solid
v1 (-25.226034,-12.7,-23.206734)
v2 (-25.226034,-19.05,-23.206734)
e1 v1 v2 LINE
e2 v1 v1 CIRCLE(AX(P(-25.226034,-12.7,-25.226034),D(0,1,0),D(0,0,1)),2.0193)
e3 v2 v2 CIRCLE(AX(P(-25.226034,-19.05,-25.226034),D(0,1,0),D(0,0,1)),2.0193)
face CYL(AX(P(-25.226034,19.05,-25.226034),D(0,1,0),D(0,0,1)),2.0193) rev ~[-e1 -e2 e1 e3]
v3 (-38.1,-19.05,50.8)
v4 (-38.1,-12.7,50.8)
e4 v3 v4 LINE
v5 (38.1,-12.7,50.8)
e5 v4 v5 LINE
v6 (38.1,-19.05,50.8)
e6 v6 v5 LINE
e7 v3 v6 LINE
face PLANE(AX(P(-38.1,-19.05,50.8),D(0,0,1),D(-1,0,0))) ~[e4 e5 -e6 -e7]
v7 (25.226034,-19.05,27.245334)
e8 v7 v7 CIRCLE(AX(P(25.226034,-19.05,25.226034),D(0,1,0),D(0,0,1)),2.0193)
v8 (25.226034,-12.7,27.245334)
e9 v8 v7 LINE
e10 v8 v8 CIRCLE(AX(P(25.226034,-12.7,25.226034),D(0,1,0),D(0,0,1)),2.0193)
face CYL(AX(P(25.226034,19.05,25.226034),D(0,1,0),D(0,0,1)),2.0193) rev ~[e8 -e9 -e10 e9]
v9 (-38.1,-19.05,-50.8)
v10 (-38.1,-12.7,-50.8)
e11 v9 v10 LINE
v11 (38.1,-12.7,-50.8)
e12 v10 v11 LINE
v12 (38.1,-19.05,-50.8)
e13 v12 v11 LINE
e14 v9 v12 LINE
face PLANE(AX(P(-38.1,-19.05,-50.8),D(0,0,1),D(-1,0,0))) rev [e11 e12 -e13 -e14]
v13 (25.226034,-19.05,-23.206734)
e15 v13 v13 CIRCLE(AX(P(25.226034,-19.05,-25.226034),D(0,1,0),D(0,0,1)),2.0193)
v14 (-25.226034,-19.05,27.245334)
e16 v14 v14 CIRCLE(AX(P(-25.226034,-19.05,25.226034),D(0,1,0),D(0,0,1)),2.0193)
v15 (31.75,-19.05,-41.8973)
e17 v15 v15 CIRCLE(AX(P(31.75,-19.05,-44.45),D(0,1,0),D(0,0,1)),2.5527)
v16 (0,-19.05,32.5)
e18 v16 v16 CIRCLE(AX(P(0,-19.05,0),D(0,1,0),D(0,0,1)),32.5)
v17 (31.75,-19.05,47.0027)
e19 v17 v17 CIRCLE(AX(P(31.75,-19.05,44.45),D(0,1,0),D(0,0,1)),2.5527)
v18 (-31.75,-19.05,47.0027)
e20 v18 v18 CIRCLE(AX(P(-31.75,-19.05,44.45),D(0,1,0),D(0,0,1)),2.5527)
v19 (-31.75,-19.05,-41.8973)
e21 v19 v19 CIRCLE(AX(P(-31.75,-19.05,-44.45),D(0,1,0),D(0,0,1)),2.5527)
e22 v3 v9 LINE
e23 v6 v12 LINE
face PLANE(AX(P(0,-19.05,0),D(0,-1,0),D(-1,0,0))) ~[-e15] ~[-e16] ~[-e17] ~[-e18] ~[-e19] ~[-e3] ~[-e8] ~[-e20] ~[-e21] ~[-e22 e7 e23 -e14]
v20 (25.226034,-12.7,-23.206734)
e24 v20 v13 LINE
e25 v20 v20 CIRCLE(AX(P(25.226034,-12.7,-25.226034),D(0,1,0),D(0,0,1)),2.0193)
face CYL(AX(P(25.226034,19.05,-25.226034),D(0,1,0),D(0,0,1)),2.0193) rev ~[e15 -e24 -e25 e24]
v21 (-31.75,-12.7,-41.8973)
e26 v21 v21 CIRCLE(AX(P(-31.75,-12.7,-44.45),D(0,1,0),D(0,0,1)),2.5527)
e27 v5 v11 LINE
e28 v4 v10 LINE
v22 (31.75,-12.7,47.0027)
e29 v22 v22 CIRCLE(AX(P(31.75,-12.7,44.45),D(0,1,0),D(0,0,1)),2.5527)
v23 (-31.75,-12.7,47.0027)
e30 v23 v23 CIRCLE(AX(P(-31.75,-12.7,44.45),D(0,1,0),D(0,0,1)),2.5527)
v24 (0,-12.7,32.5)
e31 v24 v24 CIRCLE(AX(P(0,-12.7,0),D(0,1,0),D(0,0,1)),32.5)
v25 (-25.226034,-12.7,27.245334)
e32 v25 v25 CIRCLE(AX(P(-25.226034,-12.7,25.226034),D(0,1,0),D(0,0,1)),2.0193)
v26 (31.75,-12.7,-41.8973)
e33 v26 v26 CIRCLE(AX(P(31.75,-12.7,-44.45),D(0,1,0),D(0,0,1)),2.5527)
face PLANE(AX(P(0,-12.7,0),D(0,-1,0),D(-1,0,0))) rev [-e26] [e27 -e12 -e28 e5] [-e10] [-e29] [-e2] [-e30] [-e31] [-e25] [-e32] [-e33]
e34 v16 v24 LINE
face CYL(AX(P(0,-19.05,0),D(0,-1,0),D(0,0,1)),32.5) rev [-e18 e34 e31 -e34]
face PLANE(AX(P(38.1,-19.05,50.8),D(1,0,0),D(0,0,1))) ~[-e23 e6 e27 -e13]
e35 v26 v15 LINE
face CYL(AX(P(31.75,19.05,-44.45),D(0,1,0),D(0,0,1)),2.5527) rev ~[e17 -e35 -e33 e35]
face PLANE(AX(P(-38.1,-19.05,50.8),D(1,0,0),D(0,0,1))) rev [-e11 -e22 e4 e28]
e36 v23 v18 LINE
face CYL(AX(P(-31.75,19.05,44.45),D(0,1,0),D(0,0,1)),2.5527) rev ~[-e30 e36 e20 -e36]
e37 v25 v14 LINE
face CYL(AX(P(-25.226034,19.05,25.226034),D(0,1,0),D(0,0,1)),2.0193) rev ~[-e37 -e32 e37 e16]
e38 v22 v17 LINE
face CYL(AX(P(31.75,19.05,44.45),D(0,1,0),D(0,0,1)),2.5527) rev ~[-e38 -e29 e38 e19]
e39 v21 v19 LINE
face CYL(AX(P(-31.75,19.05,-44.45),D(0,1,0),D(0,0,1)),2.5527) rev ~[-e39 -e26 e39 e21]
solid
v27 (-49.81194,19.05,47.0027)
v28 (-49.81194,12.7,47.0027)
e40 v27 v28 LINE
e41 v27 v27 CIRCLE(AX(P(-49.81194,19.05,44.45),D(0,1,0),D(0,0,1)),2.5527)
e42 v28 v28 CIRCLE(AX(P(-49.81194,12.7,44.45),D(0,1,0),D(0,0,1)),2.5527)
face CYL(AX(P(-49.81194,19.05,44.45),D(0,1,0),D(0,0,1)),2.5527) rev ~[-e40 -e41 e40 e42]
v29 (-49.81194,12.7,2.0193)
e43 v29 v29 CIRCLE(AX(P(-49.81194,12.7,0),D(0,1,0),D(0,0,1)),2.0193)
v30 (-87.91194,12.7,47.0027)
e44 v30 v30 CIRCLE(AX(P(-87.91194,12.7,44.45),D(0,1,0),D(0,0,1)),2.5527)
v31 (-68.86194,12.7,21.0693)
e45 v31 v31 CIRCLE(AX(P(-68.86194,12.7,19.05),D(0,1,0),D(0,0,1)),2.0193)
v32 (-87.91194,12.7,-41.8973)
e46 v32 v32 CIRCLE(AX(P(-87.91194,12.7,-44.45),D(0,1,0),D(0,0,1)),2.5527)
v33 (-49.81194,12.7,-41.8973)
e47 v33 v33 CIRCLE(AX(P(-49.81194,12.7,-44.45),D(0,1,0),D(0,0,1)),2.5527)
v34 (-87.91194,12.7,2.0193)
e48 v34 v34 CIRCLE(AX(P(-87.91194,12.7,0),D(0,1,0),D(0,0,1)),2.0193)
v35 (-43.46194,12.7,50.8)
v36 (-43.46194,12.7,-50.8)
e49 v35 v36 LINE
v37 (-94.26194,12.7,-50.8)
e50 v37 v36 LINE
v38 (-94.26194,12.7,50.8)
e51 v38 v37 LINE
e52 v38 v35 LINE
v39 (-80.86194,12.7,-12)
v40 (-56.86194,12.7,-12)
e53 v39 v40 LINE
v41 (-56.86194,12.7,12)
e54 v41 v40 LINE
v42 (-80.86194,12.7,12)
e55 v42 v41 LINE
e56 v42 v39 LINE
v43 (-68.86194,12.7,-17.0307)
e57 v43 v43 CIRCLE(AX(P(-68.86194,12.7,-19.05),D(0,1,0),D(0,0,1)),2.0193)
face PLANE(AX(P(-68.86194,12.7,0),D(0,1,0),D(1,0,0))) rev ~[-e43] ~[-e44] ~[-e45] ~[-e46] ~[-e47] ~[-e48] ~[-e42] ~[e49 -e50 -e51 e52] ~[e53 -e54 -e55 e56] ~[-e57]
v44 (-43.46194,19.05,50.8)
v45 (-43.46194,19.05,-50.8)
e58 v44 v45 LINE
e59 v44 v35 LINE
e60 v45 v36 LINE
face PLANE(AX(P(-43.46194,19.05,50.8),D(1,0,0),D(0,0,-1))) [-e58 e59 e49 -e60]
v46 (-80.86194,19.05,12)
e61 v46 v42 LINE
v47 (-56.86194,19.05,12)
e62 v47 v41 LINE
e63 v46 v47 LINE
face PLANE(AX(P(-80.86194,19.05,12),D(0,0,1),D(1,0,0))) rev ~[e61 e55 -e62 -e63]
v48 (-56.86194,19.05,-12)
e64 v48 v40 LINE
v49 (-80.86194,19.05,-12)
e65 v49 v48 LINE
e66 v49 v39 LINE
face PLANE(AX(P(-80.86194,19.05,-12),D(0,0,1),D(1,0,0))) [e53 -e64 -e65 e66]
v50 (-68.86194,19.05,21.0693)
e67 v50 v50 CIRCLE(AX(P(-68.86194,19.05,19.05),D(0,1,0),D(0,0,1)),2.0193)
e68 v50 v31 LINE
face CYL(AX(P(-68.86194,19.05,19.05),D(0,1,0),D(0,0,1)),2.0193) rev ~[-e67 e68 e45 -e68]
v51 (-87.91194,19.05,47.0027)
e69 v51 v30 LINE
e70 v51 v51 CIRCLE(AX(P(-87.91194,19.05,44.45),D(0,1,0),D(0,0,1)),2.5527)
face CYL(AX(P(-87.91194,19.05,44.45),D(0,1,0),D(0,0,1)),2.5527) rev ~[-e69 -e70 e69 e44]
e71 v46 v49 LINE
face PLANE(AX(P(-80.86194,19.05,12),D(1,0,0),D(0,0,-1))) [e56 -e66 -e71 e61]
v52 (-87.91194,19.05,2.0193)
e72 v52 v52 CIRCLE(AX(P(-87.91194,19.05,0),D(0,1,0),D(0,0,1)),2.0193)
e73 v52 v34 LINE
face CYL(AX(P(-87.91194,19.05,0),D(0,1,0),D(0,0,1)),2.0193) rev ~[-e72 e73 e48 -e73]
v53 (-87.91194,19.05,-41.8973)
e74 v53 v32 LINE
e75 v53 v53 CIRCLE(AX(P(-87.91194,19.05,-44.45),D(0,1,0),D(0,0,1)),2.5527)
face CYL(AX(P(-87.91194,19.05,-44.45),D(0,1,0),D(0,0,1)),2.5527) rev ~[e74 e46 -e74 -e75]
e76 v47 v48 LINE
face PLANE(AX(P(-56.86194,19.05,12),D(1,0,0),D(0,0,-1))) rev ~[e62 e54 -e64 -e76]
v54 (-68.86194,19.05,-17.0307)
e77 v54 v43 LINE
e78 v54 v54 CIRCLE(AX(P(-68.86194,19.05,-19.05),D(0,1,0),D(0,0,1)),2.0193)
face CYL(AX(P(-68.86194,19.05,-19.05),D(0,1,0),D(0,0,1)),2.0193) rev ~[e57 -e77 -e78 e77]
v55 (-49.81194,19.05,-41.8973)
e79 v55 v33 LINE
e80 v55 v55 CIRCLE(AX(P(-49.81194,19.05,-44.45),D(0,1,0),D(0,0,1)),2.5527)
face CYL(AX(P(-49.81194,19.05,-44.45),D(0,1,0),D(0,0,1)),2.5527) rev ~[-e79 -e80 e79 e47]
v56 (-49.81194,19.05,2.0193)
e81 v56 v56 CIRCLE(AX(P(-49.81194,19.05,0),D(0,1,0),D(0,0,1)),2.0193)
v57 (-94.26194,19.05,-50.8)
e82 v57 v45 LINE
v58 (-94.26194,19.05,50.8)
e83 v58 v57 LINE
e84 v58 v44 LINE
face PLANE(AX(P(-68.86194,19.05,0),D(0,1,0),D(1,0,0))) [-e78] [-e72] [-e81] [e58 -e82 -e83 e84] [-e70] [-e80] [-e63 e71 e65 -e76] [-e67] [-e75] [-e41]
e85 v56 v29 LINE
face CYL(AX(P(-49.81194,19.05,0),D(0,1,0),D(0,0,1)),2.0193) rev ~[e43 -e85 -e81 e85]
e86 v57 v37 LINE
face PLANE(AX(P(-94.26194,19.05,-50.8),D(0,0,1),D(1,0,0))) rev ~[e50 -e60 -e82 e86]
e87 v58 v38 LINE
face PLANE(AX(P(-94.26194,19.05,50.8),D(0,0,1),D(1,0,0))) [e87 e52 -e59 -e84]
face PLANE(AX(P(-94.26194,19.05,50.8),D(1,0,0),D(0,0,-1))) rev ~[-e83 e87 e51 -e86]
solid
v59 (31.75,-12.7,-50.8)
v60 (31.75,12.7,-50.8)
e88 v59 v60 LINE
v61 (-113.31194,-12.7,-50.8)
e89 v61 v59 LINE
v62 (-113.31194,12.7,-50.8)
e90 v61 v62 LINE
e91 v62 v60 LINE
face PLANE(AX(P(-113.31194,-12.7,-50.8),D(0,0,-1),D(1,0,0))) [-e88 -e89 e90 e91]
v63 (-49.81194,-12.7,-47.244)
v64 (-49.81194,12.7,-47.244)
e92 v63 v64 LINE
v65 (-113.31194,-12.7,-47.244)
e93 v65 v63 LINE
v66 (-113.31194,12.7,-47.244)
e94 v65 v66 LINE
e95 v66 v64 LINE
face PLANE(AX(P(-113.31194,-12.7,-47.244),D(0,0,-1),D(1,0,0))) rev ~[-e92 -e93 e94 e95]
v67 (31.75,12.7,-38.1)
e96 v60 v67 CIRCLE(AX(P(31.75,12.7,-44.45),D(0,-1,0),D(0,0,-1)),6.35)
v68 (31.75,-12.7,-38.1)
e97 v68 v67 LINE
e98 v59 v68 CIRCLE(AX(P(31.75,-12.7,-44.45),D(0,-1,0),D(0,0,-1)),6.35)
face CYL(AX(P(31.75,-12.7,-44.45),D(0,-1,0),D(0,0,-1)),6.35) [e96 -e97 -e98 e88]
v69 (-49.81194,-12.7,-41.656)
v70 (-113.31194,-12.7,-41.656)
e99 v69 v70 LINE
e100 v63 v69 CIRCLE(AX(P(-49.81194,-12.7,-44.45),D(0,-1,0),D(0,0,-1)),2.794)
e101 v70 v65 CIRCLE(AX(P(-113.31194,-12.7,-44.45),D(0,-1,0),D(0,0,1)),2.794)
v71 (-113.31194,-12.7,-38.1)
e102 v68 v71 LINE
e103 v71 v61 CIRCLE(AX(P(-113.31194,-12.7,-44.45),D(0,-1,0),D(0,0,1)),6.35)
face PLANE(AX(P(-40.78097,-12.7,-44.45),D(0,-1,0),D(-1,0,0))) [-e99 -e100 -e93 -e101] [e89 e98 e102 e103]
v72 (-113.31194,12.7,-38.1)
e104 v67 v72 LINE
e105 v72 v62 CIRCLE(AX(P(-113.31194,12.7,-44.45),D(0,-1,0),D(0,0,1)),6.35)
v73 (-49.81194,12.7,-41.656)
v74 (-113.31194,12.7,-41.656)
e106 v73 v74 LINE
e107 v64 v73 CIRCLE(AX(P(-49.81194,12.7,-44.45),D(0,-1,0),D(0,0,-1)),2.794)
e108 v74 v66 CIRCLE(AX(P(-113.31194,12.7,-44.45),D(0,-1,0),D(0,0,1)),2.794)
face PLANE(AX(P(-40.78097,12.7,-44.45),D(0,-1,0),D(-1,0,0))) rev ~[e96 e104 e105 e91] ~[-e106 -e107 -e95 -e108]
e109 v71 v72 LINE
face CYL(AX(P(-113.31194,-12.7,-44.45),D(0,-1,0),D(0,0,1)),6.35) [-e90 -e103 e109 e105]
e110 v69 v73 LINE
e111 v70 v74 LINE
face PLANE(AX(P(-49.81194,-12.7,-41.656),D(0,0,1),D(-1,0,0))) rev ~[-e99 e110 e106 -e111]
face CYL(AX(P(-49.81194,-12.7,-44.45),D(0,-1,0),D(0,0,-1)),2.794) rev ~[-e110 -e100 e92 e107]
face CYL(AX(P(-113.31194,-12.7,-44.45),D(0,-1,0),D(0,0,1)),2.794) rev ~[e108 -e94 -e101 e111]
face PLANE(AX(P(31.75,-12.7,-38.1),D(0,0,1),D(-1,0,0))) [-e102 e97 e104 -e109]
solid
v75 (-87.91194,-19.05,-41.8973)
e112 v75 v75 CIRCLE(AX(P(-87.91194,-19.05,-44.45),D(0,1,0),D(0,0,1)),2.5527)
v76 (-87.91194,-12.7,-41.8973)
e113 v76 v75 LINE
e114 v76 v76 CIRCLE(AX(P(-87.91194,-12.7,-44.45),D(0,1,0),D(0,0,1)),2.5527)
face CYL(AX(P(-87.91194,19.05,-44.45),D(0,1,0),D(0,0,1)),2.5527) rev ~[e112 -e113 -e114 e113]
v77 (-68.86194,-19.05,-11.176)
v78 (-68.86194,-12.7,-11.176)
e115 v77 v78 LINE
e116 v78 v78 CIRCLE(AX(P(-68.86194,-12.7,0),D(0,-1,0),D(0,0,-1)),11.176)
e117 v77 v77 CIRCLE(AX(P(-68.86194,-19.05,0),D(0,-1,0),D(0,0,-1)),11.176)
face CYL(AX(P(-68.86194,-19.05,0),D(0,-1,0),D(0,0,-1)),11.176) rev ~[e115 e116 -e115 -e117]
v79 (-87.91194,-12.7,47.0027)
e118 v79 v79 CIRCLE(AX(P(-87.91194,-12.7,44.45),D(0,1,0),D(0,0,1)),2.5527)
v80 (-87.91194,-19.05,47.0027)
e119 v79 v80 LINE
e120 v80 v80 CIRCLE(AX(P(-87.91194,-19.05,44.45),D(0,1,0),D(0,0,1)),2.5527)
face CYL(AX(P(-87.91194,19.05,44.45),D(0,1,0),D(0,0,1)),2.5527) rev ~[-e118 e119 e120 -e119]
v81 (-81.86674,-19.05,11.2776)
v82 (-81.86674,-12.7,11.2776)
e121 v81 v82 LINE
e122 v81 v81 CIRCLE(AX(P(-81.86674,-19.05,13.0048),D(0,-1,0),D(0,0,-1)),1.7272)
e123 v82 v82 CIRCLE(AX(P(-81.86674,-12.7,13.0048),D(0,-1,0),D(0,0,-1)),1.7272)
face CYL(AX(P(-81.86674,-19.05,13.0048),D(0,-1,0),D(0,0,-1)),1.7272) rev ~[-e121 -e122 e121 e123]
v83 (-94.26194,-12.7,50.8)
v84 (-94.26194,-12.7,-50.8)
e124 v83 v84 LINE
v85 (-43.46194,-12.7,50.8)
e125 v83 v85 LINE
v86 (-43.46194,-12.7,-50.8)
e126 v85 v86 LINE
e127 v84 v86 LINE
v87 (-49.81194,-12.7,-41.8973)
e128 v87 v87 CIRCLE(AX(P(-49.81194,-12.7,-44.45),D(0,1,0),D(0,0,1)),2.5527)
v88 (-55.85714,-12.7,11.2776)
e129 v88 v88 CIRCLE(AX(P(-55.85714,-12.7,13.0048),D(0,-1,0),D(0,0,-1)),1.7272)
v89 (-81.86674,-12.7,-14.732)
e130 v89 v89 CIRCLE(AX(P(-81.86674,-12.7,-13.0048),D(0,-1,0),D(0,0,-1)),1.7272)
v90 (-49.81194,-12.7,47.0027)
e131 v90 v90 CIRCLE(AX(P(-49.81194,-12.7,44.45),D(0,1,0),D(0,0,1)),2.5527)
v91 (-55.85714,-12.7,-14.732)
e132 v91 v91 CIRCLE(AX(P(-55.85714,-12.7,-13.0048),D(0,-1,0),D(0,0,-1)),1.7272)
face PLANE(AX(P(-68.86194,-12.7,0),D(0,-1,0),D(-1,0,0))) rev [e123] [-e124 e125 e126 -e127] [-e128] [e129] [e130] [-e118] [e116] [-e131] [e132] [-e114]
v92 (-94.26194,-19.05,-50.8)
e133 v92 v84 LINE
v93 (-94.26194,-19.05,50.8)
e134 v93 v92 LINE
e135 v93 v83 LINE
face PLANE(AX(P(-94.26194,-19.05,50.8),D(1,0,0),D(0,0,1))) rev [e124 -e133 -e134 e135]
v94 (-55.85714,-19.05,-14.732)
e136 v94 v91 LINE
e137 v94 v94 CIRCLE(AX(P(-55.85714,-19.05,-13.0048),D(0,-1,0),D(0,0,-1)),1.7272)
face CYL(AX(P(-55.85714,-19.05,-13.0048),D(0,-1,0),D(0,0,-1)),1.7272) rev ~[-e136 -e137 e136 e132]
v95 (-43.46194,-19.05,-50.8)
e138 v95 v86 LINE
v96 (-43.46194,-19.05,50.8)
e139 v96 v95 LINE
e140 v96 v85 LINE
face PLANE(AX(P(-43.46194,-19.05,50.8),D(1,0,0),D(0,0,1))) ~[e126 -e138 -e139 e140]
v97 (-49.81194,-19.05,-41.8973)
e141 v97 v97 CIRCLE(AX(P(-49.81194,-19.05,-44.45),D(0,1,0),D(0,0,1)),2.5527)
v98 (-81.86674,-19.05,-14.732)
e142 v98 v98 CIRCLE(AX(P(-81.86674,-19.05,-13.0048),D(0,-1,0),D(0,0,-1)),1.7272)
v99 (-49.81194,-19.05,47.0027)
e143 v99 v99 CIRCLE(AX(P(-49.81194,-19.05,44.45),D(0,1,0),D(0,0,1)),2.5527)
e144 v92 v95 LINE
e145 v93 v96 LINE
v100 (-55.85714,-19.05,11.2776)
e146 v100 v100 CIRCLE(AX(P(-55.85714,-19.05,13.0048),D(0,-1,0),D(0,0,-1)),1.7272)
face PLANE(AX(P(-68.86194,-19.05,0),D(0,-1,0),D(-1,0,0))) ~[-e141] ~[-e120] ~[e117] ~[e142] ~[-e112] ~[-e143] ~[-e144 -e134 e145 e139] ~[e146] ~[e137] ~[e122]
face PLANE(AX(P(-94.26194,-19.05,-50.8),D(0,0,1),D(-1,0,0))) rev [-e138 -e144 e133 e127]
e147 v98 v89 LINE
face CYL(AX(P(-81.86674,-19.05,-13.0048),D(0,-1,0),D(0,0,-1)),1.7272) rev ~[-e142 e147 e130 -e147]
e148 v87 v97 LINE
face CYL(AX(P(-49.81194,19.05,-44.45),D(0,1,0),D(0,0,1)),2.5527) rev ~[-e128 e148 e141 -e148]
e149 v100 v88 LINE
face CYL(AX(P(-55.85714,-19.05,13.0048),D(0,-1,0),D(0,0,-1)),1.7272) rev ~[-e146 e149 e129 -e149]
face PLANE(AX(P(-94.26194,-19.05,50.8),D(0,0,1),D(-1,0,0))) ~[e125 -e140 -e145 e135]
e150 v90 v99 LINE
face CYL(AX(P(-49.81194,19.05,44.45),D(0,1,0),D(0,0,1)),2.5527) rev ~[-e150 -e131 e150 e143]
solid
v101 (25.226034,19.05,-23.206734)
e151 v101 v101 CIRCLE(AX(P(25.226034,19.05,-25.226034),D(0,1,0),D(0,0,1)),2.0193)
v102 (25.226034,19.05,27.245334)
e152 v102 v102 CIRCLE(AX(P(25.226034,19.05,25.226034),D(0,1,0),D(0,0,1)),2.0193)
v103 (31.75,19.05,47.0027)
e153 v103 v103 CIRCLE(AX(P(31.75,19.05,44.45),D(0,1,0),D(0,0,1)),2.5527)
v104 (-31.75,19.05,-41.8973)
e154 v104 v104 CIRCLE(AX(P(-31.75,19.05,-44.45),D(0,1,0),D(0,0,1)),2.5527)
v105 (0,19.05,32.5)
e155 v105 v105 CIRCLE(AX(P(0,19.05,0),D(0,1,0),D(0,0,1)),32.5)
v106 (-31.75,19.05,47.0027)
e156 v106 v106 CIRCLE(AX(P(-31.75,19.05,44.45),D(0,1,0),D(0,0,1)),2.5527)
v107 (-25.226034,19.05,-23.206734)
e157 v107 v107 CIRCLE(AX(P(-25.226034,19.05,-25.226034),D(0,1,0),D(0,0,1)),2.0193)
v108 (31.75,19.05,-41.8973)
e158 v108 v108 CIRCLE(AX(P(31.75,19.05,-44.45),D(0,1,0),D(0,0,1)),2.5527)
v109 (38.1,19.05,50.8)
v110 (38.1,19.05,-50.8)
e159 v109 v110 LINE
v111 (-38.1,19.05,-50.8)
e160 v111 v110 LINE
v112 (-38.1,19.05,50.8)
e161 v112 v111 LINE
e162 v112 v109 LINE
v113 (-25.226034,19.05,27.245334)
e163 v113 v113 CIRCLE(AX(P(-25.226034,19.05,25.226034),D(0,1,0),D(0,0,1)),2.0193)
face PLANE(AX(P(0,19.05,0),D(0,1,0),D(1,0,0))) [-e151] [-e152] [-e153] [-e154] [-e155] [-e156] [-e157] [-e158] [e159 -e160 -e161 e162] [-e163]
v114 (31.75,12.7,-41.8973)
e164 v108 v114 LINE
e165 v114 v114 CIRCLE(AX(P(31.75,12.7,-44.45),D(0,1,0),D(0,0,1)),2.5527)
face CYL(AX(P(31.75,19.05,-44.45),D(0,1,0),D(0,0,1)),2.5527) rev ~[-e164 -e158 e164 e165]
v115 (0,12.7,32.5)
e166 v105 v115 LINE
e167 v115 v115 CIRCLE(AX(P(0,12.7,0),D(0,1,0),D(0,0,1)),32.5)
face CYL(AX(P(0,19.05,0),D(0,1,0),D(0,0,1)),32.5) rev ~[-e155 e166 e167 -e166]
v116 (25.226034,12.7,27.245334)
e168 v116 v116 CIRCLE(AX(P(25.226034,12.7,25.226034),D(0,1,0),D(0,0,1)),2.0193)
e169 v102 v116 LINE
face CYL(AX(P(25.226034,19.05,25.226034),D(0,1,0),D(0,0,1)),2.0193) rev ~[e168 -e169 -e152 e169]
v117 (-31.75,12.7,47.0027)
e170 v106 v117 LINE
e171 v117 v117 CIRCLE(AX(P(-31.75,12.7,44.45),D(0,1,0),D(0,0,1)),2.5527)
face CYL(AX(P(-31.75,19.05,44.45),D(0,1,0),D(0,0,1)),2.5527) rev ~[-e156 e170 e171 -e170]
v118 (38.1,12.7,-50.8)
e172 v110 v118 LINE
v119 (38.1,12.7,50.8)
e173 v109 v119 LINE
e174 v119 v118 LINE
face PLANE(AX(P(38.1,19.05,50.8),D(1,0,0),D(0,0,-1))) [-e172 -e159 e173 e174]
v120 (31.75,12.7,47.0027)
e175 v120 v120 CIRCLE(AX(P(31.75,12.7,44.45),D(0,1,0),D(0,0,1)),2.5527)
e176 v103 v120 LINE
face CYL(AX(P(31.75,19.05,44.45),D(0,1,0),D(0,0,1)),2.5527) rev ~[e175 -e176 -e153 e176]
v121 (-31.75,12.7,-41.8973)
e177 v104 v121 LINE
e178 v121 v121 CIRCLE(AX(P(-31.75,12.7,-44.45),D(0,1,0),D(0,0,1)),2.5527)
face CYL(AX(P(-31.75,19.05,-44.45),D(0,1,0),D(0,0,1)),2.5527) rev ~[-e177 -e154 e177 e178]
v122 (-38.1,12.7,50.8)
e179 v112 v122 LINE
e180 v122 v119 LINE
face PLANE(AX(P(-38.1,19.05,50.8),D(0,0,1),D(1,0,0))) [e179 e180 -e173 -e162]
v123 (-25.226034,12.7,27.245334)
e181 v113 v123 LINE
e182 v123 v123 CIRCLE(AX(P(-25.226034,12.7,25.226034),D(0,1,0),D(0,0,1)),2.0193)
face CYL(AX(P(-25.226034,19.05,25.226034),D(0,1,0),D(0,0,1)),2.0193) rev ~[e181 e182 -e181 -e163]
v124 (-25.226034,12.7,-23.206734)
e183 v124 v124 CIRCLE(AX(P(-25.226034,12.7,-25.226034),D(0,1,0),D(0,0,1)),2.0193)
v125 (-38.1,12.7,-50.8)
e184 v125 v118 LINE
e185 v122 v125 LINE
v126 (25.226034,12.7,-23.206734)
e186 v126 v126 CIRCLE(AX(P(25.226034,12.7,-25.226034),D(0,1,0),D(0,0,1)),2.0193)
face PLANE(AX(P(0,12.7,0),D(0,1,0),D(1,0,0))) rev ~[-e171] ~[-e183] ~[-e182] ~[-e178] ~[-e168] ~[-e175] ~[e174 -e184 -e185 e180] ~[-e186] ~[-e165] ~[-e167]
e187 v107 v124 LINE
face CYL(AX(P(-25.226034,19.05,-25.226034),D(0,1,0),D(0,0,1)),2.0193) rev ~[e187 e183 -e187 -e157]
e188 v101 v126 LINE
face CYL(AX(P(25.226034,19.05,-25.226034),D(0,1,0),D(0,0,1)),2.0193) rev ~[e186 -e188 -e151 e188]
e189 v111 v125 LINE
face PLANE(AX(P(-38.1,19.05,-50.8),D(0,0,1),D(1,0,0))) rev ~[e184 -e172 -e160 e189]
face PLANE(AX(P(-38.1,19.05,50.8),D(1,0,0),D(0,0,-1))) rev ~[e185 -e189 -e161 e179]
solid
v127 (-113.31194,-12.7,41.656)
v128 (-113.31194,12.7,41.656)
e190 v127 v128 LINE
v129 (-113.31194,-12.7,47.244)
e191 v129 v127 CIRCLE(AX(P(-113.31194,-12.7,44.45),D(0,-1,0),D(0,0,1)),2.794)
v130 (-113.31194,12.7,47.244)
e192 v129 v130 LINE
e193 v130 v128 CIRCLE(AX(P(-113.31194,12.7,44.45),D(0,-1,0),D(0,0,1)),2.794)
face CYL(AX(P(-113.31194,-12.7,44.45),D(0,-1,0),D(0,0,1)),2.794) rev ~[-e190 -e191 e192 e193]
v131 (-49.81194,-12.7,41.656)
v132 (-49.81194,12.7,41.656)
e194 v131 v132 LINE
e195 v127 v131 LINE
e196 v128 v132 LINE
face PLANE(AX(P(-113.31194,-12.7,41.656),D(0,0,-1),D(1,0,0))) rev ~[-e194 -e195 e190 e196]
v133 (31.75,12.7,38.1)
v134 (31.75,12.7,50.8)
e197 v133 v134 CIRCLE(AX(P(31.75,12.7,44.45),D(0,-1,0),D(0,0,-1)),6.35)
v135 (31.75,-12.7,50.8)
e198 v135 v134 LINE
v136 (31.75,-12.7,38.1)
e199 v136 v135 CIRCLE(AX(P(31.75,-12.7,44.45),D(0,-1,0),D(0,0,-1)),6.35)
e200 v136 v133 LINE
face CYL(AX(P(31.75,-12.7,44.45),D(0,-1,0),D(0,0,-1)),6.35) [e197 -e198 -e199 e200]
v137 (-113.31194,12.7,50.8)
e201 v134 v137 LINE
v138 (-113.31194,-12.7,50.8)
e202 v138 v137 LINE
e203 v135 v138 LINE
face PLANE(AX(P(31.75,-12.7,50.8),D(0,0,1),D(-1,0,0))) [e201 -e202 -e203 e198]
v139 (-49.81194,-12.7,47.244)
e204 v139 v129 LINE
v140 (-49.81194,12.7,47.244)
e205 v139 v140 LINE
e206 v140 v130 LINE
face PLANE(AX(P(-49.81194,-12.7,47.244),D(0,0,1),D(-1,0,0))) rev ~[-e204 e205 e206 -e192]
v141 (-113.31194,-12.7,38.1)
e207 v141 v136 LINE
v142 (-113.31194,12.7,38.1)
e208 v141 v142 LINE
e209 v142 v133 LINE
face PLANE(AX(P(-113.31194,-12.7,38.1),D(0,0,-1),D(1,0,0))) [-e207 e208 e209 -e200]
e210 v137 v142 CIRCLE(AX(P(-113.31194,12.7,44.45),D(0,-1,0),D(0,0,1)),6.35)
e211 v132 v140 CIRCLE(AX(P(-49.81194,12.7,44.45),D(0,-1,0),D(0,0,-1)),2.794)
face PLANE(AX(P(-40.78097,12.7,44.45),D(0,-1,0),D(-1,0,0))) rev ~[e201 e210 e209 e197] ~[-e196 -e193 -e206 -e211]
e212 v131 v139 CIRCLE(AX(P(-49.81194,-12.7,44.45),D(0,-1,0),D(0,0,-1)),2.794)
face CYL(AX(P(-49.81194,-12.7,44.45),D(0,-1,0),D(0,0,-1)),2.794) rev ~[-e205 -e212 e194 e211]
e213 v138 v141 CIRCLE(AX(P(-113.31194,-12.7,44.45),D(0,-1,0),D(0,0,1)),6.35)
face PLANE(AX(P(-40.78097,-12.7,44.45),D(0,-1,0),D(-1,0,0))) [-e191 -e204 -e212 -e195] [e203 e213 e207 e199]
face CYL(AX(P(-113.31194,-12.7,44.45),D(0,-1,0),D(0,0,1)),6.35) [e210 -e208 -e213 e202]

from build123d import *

# Parameters (mm, degrees)
BOSS_EXTRUDE1_START   = 19.05
SKETCH2_W             = 76.2
SKETCH2_H             = 101.6
SKETCH2_R             = 32.5
BOSS_EXTRUDE1_DEPTH   = 6.35
SKETCH2_W_2           = 50.8
BOSS_EXTRUDE1_2_DEPTH = 6.35
SKETCH3_W             = 24
SKETCH3_H             = 24
CUT_EXTRUDE1_DEPTH    = 6.35
SKETCH4_R             = 11.176
CUT_EXTRUDE2_DEPTH    = 6.35
SKETCH5_R             = 1.7272
CUT_EXTRUDE3_DEPTH    = 6.35
SKETCH6_R             = 2.5527
SKETCH6_R_2           = 2.0193
CUT_EXTRUDE4_DEPTH    = 114.655458877
SKETCH7_R             = 2.0193
CUT_EXTRUDE5_DEPTH    = 6.35
BOSS_EXTRUDE2_DEPTH   = 25.4
BOSS_EXTRUDE2_2_DEPTH = 25.4


with BuildPart() as part:
    # Sketch2 → Boss-Extrude1 (new body)
    with BuildSketch(Plane(origin=(0, 0, 0), x_dir=(1, 0, 0), z_dir=(0, 1, 0)).offset(BOSS_EXTRUDE1_START)):
        Rectangle(SKETCH2_W, SKETCH2_H)
        with Locations(Location((0, 0, 0), (0, 0, 270))):
            Circle(SKETCH2_R, mode=Mode.SUBTRACT)
    extrude(amount=-BOSS_EXTRUDE1_DEPTH)


with BuildPart() as body_2:
    # Sketch2 → Boss-Extrude1 2 (new body)
    with BuildSketch(Plane(origin=(0, 0, 0), x_dir=(1, 0, 0), z_dir=(0, 1, 0)).offset(BOSS_EXTRUDE1_START)):
        with Locations((-68.86194, 0)):
            Rectangle(SKETCH2_W_2, SKETCH2_H)
    extrude(amount=-BOSS_EXTRUDE1_2_DEPTH)


with BuildPart() as body_3:
    # Mirror1: mirrored copy
    add(part.part.mirror(Plane.ZX))


with BuildPart() as body_4:
    # Mirror1 2: mirrored copy
    add(body_2.part.mirror(Plane.ZX))

    # Sketch4 → Cut-Extrude2 (cut)
    with BuildSketch(Plane.XZ.offset(19.05)):
        with Locations(Location((-68.86194, 0, 0), (0, 0, 270))):
            Circle(SKETCH4_R)
    extrude(amount=-CUT_EXTRUDE2_DEPTH, mode=Mode.SUBTRACT)

    # Sketch5 → Cut-Extrude3 (cut)
    with BuildSketch(Plane.XZ.offset(19.05)):
        with Locations(Location((-81.86674, 13.0048, 0), (0, 0, 270))):
            Circle(SKETCH5_R)
        with Locations(Location((-55.85714, 13.0048, 0), (0, 0, 270))):
            Circle(SKETCH5_R)
        with Locations(Location((-55.85714, -13.0048, 0), (0, 0, 270))):
            Circle(SKETCH5_R)
        with Locations(Location((-81.86674, -13.0048, 0), (0, 0, 270))):
            Circle(SKETCH5_R)
    extrude(amount=-CUT_EXTRUDE3_DEPTH, mode=Mode.SUBTRACT)


with BuildPart() as body_2_1:
    add(body_2.part)

    # Sketch3 → Cut-Extrude1 (cut)
    with BuildSketch(Plane(origin=(0, 19.05, 0), x_dir=(1, 0, 0), z_dir=(0, 1, 0))):
        with Locations((-68.86194, 0)):
            Rectangle(SKETCH3_W, SKETCH3_H)
    extrude(amount=-CUT_EXTRUDE1_DEPTH, mode=Mode.SUBTRACT)


with BuildPart() as cut_extrude4_tool:
    # Sketch6 → Cut-Extrude4 (new, through all)
    with BuildSketch(Plane(origin=(0, 19.05, 0), x_dir=(1, 0, 0), z_dir=(0, 1, 0))):
        with Locations(Location((-31.75, 44.45, 0), (0, 0, 270))):
            Circle(SKETCH6_R)
        with Locations(Location((31.75, 44.45, 0), (0, 0, 270))):
            Circle(SKETCH6_R)
        with Locations(Location((31.75, -44.45, 0), (0, 0, 270))):
            Circle(SKETCH6_R)
        with Locations(Location((-31.75, -44.45, 0), (0, 0, 270))):
            Circle(SKETCH6_R)
        with Locations(Location((-25.226034419, 25.226034419, 0), (0, 0, 270))):
            Circle(SKETCH6_R_2)
        with Locations(Location((25.226034419, 25.226034419, 0), (0, 0, 270))):
            Circle(SKETCH6_R_2)
        with Locations(Location((25.226034419, -25.226034419, 0), (0, 0, 270))):
            Circle(SKETCH6_R_2)
        with Locations(Location((-25.226034419, -25.226034419, 0), (0, 0, 270))):
            Circle(SKETCH6_R_2)
        with Locations(Location((-49.81194, -44.45, 0), (0, 0, 270))):
            Circle(SKETCH6_R)
        with Locations(Location((-49.81194, 44.45, 0), (0, 0, 270))):
            Circle(SKETCH6_R)
        with Locations(Location((-87.91194, -44.45, 0), (0, 0, 270))):
            Circle(SKETCH6_R)
        with Locations(Location((-87.91194, 44.45, 0), (0, 0, 270))):
            Circle(SKETCH6_R)
    extrude(amount=-CUT_EXTRUDE4_DEPTH)


with BuildPart() as part_1:
    add(part.part)

    # Cut-Extrude4: cut by cut_extrude4_tool
    add(cut_extrude4_tool.part, mode=Mode.SUBTRACT)


with BuildPart() as body_2_2:
    add(body_2_1.part)

    # Cut-Extrude4: cut by cut_extrude4_tool
    add(cut_extrude4_tool.part, mode=Mode.SUBTRACT)

    # Sketch7 → Cut-Extrude5 (cut)
    with BuildSketch(Plane(origin=(0, 19.05, 0), x_dir=(1, 0, 0), z_dir=(0, 1, 0))):
        with Locations(Location((-68.86194, 19.05, 0), (0, 0, 270))):
            Circle(SKETCH7_R)
        with Locations(Location((-68.86194, -19.05, 0), (0, 0, 270))):
            Circle(SKETCH7_R)
        with Locations(Location((-87.91194, 0, 0), (0, 0, 270))):
            Circle(SKETCH7_R)
        with Locations(Location((-49.81194, 0, 0), (0, 0, 270))):
            Circle(SKETCH7_R)
    extrude(amount=-CUT_EXTRUDE5_DEPTH, mode=Mode.SUBTRACT)


with BuildPart() as body_3_1:
    add(body_3.part)

    # Cut-Extrude4: cut by cut_extrude4_tool
    add(cut_extrude4_tool.part, mode=Mode.SUBTRACT)


with BuildPart() as body_4_1:
    add(body_4.part)

    # Cut-Extrude4: cut by cut_extrude4_tool
    add(cut_extrude4_tool.part, mode=Mode.SUBTRACT)


with BuildPart() as body_5:
    # Sketch8 → Boss-Extrude2 (new body)
    with BuildSketch(Plane(origin=(0, -12.7, 0), x_dir=(1, 0, 0), z_dir=(0, 1, 0))):
        with BuildLine():
            Line((31.75, -50.8), (-113.31194, -50.8))
            ThreePointArc((-113.31194, -50.8), (-119.66194, -44.45), (-113.31194, -38.1))
            Line((-113.31194, -38.1), (31.75, -38.1))
            ThreePointArc((31.75, -38.1), (38.1, -44.45), (31.75, -50.8))
        make_face()
        with BuildLine():
            Line((-49.81194, -47.244), (-113.31194, -47.244))
            ThreePointArc((-113.31194, -47.244), (-116.10594, -44.45), (-113.31194, -41.656))
            Line((-113.31194, -41.656), (-49.81194, -41.656))
            ThreePointArc((-49.81194, -41.656), (-47.01794, -44.45), (-49.81194, -47.244))
        make_face(mode=Mode.SUBTRACT)
    extrude(amount=BOSS_EXTRUDE2_DEPTH)


with BuildPart() as body_6:
    # Sketch8 → Boss-Extrude2 2 (new body)
    with BuildSketch(Plane(origin=(0, -12.7, 0), x_dir=(1, 0, 0), z_dir=(0, 1, 0))):
        with BuildLine():
            Line((31.75, 38.1), (-113.31194, 38.1))
            ThreePointArc((-113.31194, 38.1), (-119.66194, 44.45), (-113.31194, 50.8))
            Line((-113.31194, 50.8), (31.75, 50.8))
            ThreePointArc((31.75, 50.8), (38.1, 44.45), (31.75, 38.1))
        make_face()
        with BuildLine():
            Line((-49.81194, 41.656), (-113.31194, 41.656))
            ThreePointArc((-113.31194, 41.656), (-116.10594, 44.45), (-113.31194, 47.244))
            Line((-113.31194, 47.244), (-49.81194, 47.244))
            ThreePointArc((-49.81194, 47.244), (-47.01794, 44.45), (-49.81194, 41.656))
        make_face(mode=Mode.SUBTRACT)
    extrude(amount=BOSS_EXTRUDE2_2_DEPTH)


solid = Compound([part_1.part, body_2_2.part, body_3_1.part, body_4_1.part, body_5.part, body_6.part])
